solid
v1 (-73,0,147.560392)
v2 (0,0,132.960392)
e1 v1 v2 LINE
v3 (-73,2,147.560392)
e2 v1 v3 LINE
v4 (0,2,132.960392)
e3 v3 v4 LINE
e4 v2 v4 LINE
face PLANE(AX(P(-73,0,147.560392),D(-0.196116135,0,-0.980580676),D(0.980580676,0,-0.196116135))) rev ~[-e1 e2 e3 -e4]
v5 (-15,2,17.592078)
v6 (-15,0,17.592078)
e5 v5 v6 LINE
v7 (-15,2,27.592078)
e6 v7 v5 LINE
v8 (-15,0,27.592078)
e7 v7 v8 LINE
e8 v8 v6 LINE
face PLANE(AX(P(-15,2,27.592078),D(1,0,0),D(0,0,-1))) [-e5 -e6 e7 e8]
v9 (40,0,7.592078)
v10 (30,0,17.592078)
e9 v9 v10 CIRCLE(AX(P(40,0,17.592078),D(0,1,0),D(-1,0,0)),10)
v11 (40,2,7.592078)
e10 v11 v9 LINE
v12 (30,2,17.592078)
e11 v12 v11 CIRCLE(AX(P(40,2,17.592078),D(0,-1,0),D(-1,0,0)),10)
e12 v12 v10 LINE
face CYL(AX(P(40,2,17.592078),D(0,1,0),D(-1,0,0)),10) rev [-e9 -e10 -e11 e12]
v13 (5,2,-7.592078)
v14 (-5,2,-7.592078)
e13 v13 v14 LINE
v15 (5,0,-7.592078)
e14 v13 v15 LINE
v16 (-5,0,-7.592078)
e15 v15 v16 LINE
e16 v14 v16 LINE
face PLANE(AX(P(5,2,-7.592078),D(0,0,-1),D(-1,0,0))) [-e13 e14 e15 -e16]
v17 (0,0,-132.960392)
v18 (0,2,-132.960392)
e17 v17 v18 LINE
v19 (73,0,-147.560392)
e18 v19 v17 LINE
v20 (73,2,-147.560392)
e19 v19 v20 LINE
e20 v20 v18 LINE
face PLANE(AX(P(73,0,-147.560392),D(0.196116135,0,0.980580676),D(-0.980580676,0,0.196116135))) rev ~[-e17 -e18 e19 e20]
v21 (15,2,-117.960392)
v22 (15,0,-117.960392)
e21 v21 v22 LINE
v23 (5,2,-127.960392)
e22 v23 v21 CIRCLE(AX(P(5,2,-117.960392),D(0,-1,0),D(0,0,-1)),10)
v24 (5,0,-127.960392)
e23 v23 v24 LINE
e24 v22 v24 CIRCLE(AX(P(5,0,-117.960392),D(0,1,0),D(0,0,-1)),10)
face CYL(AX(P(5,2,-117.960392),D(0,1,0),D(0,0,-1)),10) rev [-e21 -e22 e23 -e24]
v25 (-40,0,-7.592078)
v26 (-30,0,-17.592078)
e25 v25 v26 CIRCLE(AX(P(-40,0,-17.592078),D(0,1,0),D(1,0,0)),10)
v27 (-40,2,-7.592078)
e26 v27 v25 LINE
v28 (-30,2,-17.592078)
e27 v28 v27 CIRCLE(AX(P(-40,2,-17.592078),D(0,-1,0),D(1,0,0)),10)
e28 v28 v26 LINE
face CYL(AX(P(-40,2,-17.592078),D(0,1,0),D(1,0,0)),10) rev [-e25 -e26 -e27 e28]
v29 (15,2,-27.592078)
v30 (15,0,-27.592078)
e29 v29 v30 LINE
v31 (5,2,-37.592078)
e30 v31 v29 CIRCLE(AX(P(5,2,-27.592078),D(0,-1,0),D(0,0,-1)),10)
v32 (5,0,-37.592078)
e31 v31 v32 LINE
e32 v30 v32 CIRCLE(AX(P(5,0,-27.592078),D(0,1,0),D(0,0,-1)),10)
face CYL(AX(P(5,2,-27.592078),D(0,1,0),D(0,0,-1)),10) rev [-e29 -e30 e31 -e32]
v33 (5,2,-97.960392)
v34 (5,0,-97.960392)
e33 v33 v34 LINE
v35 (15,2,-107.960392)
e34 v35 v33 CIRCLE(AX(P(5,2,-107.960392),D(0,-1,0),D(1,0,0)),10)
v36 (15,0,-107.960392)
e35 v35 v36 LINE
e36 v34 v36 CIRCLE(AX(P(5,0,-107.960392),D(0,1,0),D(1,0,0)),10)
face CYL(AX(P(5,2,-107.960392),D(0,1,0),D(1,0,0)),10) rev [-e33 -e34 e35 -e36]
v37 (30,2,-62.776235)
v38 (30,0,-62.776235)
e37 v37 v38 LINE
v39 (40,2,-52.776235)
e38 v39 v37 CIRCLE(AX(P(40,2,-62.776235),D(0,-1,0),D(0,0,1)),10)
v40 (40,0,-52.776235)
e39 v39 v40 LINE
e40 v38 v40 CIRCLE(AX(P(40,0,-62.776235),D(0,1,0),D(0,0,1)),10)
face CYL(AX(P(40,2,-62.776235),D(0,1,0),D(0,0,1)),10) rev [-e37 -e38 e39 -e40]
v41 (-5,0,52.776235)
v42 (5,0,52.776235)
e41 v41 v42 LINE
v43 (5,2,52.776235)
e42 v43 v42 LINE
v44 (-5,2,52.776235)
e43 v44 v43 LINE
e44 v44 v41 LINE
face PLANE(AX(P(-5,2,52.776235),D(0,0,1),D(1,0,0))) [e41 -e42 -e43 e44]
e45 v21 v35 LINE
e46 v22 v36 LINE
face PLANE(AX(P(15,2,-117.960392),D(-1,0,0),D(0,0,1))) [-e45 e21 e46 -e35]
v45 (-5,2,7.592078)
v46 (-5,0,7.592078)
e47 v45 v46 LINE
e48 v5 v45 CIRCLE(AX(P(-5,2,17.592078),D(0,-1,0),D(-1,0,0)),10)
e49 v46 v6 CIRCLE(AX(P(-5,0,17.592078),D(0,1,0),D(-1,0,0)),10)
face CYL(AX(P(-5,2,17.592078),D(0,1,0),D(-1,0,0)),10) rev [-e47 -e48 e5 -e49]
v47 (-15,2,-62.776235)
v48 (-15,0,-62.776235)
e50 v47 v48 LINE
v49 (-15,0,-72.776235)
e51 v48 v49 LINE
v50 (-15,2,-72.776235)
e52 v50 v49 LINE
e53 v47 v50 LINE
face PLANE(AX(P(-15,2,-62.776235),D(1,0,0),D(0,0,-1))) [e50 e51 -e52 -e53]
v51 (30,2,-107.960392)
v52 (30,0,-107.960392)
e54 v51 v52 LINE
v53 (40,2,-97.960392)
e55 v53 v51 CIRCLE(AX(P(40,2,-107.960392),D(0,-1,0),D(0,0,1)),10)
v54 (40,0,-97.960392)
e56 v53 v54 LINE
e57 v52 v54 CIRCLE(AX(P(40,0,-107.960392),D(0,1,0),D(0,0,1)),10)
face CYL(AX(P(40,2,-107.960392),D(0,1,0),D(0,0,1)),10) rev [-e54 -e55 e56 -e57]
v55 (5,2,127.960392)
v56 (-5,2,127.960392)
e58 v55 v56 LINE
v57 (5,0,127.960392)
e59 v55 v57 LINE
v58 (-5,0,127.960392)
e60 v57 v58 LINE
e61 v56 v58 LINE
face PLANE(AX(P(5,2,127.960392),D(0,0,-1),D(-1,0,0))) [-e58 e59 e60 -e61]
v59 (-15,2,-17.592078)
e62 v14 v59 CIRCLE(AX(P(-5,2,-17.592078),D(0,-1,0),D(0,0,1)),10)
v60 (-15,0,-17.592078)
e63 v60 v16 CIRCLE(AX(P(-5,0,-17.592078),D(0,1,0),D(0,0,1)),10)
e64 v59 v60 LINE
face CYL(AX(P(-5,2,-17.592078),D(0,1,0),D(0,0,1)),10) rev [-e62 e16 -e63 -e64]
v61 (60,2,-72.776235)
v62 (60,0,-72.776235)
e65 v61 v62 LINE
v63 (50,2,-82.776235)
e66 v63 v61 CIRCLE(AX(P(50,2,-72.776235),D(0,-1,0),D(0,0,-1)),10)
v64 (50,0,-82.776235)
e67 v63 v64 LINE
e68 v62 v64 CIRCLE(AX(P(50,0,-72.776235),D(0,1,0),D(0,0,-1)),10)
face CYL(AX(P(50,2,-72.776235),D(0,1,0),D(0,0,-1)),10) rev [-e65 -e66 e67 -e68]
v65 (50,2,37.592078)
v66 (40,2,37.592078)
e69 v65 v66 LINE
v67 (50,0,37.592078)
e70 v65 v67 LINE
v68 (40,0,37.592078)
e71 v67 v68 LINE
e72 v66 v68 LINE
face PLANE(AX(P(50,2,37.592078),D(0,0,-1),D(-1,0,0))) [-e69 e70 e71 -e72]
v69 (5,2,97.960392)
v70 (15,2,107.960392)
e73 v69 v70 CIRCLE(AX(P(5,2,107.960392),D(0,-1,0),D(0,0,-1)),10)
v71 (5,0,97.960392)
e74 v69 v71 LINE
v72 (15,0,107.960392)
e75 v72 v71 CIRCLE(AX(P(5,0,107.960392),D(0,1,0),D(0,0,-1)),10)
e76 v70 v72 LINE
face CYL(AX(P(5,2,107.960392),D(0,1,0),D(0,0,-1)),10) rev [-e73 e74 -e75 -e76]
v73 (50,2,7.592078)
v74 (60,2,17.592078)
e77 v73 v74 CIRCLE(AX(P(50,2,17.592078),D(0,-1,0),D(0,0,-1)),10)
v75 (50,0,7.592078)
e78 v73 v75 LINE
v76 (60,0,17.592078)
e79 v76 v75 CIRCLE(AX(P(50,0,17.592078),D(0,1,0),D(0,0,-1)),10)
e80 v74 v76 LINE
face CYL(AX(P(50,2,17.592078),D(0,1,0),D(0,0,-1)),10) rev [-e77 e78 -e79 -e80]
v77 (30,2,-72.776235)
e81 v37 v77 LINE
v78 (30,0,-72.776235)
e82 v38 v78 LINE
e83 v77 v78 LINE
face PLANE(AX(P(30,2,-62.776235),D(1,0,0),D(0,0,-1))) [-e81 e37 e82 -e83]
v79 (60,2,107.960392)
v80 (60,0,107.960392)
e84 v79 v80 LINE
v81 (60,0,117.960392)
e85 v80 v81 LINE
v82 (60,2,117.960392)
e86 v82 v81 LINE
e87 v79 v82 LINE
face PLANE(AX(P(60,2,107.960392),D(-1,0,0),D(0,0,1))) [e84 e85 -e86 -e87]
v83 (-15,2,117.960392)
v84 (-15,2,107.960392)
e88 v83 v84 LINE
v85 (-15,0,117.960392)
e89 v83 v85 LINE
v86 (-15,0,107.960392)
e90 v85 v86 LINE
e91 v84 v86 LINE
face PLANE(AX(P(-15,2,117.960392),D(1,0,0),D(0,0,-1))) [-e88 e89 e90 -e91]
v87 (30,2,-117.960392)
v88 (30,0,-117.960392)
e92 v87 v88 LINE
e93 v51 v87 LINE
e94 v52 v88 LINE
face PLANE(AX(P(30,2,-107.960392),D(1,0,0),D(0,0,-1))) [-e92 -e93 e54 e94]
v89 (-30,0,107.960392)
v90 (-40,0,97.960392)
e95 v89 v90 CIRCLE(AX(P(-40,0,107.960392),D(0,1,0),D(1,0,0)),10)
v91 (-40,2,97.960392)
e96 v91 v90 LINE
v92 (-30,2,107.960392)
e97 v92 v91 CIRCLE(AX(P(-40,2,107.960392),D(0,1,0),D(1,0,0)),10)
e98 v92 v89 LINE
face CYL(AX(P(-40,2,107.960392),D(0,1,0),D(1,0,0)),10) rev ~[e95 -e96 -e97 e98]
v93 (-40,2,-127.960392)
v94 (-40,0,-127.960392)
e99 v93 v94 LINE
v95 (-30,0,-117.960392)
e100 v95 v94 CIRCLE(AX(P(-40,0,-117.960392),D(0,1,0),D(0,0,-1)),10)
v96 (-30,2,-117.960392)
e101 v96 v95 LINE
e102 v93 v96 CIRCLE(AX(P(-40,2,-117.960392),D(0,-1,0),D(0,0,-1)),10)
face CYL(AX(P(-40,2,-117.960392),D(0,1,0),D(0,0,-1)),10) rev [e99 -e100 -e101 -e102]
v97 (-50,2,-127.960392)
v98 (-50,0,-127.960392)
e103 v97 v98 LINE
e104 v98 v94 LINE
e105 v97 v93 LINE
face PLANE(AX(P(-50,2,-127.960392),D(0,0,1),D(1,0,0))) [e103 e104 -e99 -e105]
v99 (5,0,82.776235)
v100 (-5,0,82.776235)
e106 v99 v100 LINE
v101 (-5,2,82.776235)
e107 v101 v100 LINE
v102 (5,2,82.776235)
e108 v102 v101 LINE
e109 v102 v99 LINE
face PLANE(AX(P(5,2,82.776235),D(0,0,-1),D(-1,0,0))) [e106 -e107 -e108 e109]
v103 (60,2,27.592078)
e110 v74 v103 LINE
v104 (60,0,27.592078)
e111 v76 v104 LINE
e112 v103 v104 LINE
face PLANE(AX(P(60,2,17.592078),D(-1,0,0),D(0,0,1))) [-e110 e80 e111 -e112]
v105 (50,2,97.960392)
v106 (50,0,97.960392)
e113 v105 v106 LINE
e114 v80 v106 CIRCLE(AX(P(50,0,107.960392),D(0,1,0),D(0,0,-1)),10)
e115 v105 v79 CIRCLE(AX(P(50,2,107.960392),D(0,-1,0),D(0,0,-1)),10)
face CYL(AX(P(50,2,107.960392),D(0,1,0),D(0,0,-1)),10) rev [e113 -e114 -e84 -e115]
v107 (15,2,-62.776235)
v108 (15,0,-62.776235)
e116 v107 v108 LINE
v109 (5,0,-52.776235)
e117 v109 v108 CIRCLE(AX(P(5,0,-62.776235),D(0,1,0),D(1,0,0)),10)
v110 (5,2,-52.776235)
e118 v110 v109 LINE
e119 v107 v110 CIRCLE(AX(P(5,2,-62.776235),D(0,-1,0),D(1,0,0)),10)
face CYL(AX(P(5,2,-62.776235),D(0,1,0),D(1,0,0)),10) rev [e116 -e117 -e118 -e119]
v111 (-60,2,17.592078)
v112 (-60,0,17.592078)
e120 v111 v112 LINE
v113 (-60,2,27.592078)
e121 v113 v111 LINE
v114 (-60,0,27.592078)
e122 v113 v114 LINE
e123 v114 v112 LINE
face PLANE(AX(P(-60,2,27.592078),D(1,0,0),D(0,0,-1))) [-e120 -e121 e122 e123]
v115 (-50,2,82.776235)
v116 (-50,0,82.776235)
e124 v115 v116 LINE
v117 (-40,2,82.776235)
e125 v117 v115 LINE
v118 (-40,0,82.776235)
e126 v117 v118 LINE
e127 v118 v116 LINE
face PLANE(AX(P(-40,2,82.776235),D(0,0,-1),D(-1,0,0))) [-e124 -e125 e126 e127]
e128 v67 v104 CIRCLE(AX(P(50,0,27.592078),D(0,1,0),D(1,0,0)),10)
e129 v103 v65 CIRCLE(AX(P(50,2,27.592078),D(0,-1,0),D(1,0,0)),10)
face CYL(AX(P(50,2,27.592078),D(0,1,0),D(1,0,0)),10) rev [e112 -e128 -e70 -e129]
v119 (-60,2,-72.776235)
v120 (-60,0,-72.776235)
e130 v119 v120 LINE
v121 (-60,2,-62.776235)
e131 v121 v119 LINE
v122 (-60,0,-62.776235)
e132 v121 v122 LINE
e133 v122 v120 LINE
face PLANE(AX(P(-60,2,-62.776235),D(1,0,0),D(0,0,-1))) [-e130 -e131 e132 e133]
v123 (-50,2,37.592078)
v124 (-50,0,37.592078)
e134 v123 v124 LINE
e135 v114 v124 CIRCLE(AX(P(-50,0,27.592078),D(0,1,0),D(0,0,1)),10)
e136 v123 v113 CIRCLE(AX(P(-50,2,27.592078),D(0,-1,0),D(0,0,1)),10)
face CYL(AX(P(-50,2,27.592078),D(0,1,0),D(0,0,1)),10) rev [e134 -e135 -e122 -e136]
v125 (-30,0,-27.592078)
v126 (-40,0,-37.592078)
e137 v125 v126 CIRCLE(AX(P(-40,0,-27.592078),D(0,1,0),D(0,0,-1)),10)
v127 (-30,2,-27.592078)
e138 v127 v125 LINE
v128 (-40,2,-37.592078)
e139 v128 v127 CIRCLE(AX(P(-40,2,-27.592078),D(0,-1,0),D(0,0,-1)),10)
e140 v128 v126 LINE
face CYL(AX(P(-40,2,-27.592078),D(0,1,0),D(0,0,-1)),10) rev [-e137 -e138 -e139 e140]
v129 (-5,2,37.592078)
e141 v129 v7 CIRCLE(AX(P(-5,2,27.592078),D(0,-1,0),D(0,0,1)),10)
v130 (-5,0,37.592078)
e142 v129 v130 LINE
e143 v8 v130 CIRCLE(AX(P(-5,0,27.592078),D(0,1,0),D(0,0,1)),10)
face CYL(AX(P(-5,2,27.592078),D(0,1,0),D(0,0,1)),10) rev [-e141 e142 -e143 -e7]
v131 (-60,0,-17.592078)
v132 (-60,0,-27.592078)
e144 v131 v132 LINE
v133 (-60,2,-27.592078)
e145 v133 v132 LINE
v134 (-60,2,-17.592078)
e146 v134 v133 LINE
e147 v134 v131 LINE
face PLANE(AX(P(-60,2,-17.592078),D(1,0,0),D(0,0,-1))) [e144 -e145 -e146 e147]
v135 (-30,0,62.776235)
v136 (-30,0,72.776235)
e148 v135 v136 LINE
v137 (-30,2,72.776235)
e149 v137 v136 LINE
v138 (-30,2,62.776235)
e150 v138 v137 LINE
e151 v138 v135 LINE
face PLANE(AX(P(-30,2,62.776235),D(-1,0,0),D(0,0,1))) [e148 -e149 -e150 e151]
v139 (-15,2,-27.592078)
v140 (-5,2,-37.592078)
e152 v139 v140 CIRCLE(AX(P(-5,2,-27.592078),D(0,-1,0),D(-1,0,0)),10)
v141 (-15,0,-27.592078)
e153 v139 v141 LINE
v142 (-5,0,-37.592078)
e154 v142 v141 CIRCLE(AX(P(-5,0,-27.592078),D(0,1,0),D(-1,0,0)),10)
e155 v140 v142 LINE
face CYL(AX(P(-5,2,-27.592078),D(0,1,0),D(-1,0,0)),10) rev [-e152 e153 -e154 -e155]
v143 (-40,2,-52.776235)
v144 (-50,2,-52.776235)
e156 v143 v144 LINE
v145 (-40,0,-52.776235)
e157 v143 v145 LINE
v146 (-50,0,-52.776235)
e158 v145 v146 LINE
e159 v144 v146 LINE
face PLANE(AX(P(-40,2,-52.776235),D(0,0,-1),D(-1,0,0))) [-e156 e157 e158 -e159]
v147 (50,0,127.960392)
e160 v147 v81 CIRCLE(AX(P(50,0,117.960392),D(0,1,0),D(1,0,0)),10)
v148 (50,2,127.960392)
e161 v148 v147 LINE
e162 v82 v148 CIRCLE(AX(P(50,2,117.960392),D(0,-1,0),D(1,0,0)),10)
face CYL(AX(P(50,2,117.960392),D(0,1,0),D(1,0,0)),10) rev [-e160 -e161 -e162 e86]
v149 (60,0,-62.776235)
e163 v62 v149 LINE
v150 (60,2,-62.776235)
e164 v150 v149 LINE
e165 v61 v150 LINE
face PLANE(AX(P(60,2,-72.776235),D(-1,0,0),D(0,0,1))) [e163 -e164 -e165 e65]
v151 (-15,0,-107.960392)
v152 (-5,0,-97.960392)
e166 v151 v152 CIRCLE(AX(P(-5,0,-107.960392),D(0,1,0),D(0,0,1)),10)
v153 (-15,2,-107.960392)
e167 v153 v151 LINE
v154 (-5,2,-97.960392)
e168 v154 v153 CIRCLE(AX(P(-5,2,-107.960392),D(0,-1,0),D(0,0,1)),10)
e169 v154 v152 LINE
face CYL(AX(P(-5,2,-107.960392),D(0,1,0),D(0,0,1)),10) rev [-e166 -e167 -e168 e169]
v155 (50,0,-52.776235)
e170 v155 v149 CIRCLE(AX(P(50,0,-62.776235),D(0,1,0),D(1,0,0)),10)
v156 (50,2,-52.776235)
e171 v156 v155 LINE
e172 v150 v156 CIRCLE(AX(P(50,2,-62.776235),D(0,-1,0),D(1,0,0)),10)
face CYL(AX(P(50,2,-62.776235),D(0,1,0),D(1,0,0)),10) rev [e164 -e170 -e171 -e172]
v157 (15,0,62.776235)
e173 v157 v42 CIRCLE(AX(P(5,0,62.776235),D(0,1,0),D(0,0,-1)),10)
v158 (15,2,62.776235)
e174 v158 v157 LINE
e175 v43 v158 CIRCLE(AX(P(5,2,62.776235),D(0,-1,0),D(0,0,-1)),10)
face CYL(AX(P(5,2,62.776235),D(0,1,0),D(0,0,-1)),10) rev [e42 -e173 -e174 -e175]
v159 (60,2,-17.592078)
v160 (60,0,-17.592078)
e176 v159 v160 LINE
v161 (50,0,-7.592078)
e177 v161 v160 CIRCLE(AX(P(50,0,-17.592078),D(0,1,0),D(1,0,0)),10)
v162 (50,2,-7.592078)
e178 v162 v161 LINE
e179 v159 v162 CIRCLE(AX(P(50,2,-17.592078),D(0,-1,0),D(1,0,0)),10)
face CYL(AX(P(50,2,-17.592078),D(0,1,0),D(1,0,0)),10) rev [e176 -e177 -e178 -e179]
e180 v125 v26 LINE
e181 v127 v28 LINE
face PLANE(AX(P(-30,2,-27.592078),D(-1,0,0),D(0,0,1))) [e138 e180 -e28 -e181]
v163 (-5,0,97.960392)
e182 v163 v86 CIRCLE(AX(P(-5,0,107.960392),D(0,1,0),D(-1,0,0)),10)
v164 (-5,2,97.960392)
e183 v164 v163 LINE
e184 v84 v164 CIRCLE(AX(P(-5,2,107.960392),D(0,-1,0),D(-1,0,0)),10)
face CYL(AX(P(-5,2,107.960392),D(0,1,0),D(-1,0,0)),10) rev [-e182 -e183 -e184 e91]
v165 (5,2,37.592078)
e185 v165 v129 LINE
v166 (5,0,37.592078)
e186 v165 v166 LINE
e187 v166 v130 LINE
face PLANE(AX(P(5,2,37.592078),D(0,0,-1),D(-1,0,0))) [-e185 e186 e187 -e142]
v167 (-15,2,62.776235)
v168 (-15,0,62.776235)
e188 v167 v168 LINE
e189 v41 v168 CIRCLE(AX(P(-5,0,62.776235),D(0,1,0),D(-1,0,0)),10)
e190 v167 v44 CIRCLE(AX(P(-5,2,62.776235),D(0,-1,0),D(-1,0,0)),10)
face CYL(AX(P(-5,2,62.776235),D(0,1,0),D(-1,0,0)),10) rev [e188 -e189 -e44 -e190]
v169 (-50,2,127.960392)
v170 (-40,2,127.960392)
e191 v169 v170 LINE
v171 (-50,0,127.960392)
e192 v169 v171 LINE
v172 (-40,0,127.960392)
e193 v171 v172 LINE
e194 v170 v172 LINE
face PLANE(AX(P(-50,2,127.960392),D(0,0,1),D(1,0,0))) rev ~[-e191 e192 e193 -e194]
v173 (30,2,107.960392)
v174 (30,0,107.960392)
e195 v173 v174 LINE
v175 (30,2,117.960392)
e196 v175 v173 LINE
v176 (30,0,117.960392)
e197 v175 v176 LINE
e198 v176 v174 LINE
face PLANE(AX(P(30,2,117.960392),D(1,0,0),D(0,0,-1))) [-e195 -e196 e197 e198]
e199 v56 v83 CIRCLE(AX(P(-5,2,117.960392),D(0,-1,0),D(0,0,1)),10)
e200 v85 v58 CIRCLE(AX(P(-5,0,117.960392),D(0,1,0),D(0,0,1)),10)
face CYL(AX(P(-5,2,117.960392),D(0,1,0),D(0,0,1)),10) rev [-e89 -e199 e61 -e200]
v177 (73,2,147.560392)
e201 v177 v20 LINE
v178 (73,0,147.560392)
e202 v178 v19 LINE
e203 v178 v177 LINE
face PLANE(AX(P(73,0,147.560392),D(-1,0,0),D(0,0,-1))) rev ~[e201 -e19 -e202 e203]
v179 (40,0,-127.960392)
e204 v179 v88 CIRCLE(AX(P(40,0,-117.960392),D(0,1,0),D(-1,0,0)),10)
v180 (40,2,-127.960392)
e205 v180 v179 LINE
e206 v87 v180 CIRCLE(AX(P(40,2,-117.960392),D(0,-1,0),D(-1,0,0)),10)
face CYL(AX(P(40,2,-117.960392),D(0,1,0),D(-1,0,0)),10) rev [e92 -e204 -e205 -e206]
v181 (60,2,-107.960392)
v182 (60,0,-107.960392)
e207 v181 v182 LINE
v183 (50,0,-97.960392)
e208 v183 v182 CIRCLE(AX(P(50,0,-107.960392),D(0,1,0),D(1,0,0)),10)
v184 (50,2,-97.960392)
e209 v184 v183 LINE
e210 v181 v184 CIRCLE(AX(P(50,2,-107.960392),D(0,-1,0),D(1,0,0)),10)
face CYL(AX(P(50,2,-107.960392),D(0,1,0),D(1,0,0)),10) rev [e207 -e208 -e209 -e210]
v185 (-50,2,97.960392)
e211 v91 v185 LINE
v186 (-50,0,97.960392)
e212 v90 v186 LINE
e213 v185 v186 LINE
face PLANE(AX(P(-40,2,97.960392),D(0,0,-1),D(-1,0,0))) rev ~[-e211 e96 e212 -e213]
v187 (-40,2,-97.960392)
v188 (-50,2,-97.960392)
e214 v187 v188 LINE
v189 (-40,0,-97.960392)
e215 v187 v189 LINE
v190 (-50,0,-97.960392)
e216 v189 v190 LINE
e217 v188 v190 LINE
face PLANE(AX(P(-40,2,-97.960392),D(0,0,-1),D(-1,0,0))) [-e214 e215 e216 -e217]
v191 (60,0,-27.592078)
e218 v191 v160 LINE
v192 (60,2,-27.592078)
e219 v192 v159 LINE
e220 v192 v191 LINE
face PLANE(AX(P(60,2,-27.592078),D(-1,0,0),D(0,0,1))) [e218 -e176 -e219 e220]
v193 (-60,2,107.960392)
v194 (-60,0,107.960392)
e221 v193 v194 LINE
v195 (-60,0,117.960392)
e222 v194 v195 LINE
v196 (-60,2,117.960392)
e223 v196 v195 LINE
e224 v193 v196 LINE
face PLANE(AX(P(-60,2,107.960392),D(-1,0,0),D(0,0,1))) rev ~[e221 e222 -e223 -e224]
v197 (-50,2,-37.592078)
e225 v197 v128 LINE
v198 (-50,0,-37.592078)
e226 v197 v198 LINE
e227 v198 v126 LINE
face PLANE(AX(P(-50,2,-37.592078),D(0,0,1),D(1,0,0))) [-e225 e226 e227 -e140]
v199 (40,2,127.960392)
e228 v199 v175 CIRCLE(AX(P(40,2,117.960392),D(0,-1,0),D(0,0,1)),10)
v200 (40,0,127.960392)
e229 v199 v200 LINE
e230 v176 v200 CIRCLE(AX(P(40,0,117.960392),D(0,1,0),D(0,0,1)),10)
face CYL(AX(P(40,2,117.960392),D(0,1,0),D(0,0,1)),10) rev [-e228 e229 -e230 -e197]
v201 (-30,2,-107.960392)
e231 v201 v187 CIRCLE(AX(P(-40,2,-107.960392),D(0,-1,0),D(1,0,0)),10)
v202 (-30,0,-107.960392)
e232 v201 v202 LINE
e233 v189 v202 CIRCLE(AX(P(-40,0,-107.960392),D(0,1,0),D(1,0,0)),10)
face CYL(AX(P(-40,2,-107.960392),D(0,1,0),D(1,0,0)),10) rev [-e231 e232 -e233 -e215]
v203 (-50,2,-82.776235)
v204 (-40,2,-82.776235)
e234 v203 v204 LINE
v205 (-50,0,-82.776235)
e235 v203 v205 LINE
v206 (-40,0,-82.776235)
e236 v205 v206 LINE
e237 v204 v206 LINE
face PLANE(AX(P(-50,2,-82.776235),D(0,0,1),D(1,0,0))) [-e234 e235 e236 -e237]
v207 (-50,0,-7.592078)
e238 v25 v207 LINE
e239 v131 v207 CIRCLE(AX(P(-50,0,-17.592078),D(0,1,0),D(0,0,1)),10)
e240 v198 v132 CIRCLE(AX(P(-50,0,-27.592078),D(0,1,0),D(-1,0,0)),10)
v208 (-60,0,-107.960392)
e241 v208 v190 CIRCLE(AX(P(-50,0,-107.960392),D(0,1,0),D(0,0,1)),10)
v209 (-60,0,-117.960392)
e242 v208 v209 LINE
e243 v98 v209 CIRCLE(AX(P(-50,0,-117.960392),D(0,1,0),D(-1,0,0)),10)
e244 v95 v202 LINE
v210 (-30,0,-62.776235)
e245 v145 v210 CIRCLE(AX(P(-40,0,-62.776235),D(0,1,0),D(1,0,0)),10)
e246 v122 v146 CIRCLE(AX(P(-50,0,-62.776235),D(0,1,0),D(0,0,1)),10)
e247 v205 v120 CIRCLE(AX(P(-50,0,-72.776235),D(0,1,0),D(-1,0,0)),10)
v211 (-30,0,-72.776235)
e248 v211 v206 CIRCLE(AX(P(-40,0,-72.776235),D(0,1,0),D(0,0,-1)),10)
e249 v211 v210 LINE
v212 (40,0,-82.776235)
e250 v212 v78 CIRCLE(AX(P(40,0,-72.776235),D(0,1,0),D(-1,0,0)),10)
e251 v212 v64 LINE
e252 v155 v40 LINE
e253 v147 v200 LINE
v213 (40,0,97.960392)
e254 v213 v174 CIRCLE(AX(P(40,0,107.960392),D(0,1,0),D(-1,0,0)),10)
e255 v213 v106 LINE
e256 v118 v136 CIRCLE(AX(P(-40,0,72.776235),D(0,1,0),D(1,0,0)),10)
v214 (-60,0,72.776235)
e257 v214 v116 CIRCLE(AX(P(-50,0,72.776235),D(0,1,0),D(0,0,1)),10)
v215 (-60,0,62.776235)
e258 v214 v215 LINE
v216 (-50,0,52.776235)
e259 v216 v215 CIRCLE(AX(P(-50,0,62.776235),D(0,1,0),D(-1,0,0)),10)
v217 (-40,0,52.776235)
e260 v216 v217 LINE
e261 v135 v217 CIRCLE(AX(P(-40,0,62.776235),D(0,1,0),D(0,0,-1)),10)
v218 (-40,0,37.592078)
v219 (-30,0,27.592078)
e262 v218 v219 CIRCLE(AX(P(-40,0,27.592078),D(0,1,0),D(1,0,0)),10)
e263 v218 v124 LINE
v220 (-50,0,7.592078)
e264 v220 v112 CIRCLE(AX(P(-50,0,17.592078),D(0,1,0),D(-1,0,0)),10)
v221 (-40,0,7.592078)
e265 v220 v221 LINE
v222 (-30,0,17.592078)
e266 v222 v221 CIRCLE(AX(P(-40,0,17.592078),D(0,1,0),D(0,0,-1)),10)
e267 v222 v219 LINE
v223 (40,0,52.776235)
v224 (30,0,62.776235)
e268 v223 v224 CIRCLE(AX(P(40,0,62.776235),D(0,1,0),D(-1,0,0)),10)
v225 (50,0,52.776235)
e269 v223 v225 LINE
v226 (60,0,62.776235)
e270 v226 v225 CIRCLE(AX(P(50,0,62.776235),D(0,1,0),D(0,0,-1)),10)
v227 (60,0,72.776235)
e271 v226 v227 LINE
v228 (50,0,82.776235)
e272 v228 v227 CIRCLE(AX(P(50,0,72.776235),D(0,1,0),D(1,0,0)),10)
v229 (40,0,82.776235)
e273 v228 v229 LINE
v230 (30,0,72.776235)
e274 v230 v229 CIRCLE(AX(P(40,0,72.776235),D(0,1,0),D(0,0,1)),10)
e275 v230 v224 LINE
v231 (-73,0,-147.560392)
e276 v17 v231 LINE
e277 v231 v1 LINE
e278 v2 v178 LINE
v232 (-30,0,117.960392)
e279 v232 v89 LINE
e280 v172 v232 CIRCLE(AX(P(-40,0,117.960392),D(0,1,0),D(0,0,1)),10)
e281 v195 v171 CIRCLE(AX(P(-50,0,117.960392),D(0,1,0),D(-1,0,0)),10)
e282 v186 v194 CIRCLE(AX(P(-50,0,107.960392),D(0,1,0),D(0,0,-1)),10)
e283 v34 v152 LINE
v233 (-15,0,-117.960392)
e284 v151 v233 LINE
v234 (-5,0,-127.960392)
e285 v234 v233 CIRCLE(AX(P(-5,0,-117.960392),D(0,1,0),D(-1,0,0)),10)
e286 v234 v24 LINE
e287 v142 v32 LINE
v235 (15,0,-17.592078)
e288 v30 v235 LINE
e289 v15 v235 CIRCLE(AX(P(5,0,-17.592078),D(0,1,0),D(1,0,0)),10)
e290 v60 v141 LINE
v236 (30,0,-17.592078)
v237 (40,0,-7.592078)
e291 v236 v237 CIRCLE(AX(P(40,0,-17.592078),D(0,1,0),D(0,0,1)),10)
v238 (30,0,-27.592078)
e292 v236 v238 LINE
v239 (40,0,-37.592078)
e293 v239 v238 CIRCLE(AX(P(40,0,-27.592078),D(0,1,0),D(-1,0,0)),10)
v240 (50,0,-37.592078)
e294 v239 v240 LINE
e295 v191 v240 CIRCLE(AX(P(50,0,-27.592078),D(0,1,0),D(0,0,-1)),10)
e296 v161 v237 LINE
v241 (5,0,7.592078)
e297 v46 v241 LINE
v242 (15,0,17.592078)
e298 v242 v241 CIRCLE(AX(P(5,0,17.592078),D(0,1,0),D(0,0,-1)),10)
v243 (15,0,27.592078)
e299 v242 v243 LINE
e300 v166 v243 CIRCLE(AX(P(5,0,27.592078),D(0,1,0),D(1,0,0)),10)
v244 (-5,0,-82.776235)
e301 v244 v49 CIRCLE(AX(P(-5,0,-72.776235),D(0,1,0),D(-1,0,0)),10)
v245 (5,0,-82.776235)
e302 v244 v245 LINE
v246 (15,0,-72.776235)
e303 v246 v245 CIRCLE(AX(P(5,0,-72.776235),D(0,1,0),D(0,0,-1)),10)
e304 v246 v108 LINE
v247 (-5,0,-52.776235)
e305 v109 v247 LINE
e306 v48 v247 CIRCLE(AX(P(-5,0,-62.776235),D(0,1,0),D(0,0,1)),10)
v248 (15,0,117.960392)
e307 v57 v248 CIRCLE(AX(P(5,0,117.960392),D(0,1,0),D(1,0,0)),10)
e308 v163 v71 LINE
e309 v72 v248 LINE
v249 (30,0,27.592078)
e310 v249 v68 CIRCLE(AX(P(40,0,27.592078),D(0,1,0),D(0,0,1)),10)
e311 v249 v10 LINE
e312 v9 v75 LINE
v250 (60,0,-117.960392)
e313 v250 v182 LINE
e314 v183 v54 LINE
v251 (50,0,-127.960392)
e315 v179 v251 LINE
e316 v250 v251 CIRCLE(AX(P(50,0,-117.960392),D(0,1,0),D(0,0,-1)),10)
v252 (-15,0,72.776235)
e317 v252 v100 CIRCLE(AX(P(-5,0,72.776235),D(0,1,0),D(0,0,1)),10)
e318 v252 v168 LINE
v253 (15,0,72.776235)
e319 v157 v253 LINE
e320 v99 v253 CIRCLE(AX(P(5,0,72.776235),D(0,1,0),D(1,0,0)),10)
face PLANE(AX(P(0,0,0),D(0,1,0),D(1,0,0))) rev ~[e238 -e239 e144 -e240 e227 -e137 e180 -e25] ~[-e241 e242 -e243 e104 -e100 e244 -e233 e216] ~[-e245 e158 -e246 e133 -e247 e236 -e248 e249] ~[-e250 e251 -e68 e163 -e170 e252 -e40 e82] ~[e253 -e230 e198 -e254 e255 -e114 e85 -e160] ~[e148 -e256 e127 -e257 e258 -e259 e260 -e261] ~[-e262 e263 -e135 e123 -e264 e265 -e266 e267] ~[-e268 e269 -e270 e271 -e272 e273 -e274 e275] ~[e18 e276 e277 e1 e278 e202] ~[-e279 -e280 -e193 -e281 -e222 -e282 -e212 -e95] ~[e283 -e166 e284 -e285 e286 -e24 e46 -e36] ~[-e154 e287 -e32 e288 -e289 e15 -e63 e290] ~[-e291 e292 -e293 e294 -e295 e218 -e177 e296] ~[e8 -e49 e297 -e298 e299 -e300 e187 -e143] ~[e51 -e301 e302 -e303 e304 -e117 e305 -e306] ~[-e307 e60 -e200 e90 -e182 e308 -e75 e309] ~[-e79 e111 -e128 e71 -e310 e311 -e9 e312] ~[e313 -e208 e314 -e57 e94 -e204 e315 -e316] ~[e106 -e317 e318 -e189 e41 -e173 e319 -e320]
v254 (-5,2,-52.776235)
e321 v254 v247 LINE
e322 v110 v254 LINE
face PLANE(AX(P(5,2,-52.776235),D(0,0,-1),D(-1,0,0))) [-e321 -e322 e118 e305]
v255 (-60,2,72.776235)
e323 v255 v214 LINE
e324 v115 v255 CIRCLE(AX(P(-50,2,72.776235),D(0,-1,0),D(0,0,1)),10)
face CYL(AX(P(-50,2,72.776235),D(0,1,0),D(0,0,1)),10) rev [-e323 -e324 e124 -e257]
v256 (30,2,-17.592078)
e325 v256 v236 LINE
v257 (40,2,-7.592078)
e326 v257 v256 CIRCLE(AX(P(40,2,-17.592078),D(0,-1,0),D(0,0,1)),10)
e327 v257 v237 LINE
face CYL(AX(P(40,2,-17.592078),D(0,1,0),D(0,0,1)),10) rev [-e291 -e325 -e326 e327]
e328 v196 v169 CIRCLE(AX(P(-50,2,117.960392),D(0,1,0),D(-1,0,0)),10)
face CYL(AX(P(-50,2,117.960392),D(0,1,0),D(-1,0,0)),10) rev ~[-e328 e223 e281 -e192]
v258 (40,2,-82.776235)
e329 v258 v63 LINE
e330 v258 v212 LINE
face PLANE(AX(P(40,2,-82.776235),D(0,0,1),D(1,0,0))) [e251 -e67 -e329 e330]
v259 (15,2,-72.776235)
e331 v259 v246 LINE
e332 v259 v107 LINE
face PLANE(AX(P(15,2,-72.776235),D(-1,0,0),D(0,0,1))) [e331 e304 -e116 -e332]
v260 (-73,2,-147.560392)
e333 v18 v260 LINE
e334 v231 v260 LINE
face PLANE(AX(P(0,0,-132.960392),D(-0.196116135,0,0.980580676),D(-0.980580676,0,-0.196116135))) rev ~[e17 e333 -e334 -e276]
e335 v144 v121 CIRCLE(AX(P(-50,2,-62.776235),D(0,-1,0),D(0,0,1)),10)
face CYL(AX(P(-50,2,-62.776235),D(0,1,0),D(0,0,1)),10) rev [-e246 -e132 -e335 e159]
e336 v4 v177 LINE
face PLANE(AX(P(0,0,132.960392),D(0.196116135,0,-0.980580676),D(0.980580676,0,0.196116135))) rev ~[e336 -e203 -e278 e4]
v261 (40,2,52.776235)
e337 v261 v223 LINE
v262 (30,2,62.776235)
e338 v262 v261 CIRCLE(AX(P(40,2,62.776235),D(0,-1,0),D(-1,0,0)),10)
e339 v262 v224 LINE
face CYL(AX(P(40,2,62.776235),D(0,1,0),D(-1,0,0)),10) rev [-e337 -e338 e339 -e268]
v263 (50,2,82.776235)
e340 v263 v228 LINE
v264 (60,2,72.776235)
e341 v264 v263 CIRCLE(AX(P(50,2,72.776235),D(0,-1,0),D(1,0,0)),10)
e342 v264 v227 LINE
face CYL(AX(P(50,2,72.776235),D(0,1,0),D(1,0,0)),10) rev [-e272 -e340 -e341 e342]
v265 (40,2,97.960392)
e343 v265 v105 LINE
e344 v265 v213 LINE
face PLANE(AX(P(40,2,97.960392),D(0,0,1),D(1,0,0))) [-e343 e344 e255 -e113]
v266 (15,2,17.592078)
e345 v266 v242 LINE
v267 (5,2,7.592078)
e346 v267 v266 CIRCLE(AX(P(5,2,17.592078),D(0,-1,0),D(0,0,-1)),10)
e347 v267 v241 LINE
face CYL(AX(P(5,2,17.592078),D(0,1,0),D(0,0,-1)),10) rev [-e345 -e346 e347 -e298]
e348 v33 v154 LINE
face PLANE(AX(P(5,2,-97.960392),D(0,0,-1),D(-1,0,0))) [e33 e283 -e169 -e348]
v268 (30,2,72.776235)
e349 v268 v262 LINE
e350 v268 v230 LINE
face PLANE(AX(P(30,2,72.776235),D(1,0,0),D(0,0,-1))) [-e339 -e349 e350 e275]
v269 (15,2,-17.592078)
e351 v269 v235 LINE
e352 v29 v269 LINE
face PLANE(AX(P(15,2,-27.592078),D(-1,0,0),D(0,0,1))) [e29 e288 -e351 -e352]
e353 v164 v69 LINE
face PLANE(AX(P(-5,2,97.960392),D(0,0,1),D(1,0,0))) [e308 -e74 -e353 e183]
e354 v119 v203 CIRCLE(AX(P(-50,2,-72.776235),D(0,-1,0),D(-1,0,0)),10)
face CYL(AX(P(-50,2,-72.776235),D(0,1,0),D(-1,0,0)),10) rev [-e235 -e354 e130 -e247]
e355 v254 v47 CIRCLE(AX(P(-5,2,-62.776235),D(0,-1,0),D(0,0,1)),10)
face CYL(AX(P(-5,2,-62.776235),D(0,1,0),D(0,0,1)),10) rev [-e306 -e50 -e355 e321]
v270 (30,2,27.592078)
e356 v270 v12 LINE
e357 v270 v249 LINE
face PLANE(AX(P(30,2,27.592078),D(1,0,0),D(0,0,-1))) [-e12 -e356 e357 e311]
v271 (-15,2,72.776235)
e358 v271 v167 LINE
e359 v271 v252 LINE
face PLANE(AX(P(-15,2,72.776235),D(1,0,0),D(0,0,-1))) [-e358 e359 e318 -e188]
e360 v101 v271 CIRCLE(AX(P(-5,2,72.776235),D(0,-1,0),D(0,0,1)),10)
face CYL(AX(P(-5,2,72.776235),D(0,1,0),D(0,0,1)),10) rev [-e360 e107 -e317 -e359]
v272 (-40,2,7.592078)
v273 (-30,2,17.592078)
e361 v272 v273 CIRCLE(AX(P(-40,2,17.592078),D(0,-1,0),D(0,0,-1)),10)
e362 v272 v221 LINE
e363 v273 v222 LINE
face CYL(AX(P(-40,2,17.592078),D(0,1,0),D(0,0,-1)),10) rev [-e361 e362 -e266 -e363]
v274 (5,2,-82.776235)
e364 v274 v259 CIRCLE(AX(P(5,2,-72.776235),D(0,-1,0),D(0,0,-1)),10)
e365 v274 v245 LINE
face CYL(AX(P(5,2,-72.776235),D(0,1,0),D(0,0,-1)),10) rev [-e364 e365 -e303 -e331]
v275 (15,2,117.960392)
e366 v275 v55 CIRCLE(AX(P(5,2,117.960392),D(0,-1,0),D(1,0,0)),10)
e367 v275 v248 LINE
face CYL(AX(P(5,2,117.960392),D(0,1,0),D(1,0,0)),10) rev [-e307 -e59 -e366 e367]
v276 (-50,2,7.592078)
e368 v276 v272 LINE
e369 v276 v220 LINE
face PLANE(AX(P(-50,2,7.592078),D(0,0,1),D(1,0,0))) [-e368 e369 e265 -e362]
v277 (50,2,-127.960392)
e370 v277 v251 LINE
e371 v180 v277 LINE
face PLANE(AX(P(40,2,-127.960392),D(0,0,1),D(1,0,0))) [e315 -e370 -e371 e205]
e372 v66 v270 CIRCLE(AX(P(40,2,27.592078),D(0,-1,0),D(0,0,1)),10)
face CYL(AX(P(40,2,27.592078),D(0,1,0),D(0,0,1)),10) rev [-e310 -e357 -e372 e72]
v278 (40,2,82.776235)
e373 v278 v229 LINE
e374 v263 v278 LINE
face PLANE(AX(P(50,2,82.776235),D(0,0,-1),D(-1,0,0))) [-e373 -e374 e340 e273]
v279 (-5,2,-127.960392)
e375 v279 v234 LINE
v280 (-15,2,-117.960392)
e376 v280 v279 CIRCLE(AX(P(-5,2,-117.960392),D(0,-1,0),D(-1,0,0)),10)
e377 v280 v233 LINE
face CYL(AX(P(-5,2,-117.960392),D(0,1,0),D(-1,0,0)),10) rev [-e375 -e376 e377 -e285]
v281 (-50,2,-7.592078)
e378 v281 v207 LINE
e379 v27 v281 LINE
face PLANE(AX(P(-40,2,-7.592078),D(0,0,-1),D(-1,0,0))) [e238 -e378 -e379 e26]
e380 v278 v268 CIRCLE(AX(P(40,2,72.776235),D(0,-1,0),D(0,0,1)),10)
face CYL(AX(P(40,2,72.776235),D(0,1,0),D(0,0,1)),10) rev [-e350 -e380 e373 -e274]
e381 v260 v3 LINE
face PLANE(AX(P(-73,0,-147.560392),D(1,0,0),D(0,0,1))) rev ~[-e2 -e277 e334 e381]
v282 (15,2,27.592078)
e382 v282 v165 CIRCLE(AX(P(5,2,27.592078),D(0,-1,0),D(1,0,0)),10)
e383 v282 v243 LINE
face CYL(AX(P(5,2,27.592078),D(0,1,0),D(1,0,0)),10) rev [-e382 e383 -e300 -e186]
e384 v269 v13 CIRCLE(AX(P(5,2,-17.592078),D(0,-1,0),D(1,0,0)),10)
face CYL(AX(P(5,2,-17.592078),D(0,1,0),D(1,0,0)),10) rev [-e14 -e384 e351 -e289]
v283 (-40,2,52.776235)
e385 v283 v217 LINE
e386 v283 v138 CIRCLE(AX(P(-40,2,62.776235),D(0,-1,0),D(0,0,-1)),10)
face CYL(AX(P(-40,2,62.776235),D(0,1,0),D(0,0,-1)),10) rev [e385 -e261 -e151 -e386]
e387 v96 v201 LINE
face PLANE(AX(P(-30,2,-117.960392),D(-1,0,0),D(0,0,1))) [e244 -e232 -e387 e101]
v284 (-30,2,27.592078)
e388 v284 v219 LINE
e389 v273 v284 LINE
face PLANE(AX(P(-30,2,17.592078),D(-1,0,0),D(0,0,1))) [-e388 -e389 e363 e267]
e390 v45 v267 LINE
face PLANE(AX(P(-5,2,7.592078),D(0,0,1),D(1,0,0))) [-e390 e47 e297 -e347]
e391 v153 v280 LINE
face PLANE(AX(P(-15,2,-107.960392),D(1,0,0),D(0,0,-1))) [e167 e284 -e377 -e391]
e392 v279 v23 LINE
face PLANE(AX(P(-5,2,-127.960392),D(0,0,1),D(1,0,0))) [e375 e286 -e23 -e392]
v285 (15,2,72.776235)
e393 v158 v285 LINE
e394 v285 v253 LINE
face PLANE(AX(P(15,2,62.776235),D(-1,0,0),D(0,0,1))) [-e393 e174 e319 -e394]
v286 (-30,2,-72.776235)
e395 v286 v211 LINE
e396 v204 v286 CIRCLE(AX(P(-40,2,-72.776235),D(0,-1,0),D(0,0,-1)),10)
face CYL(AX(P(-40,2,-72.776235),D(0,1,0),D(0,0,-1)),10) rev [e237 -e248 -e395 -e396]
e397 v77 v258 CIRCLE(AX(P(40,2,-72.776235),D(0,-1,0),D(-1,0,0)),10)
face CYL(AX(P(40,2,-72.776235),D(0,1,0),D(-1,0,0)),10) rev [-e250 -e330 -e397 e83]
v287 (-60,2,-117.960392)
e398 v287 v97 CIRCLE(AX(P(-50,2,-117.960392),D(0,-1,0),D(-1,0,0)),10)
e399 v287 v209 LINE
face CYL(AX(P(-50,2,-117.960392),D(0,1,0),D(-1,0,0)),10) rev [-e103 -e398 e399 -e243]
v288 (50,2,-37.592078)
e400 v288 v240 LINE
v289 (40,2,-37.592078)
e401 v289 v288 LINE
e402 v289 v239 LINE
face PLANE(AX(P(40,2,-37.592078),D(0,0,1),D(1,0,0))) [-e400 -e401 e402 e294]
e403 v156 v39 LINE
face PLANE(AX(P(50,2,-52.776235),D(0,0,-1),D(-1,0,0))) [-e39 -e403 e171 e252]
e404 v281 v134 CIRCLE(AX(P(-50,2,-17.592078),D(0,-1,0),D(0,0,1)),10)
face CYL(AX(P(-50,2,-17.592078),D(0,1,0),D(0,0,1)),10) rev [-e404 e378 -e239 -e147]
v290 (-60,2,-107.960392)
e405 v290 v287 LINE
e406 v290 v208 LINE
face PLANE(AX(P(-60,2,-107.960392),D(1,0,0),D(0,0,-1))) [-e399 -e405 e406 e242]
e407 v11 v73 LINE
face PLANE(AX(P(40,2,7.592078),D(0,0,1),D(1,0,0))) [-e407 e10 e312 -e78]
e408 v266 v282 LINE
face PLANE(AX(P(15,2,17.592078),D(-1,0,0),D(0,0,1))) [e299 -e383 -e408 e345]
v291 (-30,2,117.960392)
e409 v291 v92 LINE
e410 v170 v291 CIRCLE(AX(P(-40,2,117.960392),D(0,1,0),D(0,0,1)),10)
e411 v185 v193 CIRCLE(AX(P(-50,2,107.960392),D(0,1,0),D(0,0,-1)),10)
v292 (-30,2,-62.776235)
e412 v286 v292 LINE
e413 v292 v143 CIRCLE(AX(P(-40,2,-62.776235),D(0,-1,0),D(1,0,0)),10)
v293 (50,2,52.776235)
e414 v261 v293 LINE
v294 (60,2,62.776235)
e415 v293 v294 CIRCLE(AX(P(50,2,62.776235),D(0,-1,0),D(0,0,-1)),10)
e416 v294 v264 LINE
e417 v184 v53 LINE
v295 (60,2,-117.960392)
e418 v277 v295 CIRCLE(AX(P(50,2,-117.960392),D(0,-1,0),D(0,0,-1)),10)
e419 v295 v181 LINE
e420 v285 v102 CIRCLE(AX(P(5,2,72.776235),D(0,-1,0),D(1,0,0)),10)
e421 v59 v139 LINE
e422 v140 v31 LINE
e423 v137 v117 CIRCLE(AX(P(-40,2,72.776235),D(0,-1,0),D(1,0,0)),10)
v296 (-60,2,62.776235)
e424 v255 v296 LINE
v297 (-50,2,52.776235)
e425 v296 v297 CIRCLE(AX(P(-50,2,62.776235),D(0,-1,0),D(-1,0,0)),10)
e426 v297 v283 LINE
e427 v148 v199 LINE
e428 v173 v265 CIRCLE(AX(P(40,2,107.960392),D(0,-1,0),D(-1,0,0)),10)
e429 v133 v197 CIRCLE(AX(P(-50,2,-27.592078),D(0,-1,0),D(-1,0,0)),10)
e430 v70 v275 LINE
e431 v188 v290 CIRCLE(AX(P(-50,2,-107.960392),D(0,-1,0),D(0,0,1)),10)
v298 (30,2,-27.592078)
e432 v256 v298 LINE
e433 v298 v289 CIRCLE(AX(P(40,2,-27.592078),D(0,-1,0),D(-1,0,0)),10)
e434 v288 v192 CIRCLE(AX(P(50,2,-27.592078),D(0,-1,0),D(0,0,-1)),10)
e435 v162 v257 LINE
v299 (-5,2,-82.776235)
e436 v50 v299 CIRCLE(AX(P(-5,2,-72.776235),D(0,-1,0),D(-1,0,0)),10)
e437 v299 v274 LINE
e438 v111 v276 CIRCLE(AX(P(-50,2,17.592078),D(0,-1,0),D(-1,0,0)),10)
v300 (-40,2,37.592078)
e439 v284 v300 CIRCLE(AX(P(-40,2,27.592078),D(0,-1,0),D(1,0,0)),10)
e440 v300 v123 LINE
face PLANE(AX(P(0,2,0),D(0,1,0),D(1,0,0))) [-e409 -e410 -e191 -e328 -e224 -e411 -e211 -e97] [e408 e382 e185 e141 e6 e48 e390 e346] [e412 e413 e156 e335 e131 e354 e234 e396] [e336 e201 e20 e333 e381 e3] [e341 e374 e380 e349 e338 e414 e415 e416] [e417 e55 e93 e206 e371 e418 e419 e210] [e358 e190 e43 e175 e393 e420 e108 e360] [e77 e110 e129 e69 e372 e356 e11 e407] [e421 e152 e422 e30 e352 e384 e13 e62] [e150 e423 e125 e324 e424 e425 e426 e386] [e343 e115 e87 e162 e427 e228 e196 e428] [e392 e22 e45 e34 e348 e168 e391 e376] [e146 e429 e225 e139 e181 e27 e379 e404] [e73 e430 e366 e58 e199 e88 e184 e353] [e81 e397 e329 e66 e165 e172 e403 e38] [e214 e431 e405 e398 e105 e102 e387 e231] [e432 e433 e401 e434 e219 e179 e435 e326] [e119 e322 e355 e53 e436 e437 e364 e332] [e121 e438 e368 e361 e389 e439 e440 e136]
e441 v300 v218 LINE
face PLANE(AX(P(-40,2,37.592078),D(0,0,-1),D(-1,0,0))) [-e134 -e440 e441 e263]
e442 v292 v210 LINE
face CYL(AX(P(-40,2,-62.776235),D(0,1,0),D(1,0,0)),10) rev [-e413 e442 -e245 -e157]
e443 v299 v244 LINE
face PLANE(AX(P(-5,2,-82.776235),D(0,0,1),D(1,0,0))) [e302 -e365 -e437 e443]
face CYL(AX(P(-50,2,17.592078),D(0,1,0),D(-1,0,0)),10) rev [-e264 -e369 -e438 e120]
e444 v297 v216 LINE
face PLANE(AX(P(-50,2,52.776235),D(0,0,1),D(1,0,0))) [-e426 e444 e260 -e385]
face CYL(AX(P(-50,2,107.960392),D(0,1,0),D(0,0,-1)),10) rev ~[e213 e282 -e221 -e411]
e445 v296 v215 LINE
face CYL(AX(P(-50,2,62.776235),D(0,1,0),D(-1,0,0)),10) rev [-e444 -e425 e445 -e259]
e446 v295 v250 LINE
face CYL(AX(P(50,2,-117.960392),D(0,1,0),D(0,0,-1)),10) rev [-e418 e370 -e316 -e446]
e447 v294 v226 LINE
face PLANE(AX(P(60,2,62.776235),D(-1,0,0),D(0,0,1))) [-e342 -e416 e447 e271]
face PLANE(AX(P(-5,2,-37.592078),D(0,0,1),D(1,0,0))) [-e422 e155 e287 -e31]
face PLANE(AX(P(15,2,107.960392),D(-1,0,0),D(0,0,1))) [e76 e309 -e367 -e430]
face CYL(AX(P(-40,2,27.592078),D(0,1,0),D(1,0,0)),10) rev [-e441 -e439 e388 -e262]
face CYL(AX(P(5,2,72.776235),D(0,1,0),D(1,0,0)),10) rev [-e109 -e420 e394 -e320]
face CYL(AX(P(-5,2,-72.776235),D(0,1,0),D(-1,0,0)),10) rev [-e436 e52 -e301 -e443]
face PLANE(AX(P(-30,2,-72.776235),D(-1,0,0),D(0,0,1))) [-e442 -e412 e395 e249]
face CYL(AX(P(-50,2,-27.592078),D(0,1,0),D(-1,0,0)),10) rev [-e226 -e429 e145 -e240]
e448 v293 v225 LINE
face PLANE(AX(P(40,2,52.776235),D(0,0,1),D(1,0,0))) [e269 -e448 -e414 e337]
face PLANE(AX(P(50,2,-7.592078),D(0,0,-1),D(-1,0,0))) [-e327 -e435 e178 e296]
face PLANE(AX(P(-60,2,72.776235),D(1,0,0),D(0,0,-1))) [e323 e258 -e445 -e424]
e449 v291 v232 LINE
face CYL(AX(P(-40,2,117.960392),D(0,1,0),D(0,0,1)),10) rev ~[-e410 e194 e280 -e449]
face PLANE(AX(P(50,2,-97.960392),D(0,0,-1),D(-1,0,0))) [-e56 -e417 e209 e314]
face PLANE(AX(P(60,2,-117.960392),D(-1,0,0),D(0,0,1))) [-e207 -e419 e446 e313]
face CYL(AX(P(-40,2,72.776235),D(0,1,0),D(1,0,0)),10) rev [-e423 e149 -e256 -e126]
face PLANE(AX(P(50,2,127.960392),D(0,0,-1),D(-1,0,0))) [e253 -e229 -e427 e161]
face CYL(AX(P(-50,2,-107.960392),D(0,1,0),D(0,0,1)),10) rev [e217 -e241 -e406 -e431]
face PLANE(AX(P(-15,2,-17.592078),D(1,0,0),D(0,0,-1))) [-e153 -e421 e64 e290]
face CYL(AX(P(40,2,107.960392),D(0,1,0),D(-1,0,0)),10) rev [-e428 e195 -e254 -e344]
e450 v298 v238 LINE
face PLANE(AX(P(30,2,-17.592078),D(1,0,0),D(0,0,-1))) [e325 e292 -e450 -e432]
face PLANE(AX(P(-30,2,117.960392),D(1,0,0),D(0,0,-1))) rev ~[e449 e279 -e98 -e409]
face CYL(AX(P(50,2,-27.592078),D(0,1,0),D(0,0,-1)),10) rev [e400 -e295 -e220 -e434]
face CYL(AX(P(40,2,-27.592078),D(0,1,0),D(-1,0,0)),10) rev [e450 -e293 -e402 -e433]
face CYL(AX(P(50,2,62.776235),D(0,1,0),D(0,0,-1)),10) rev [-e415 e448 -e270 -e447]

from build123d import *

# Parameters (mm, degrees)
BOSS_EXTRUDE1_DEPTH = 2
CUT_EXTRUDE1_DEPTH  = 165.642246537


with BuildPart() as part:
    # Sketch1 → Boss-Extrude1 (new body)
    with BuildSketch(Plane(origin=(0, 0, 0), x_dir=(1, 0, 0), z_dir=(0, 1, 0))):
        Polygon((-73, 147.560392195), (-73, -147.560392195), (0, -132.960392195), (73, -147.560392195), (73, 147.560392195), (0, 132.960392195), align=None)
    extrude(amount=BOSS_EXTRUDE1_DEPTH)

    # Sketch2 → Cut-Extrude1 (cut, through all)
    with BuildSketch(Plane(origin=(0, 2, 0), x_dir=(1, 0, 0), z_dir=(0, 1, 0))):
        with BuildLine():
            Line((-50, -127.960392195), (-40, -127.960392195))
            ThreePointArc((-40, -127.960392195), (-32.928932188, -125.031460006), (-30, -117.960392195))
            Line((-30, -117.960392195), (-30, -107.960392195))
            ThreePointArc((-30, -107.960392195), (-32.928932188, -100.889324383), (-40, -97.960392195))
            Line((-40, -97.960392195), (-50, -97.960392195))
            ThreePointArc((-50, -97.960392195), (-57.071067812, -100.889324383), (-60, -107.960392195))
            Line((-60, -107.960392195), (-60, -117.960392195))
            ThreePointArc((-60, -117.960392195), (-57.071067812, -125.031460006), (-50, -127.960392195))
        make_face()
        with BuildLine():
            Line((-15, -117.960392195), (-15, -107.960392195))
            ThreePointArc((-15, -107.960392195), (-12.071067812, -100.889324383), (-5, -97.960392195))
            Line((-5, -97.960392195), (5, -97.960392195))
            ThreePointArc((5, -97.960392195), (12.071067812, -100.889324383), (15, -107.960392195))
            Line((15, -107.960392195), (15, -117.960392195))
            ThreePointArc((15, -117.960392195), (12.071067812, -125.031460006), (5, -127.960392195))
            Line((5, -127.960392195), (-5, -127.960392195))
            ThreePointArc((-5, -127.960392195), (-12.071067812, -125.031460006), (-15, -117.960392195))
        make_face()
        with BuildLine():
            Line((30, -117.960392195), (30, -107.960392195))
            ThreePointArc((30, -107.960392195), (32.928932188, -100.889324383), (40, -97.960392195))
            Line((40, -97.960392195), (50, -97.960392195))
            ThreePointArc((50, -97.960392195), (57.071067812, -100.889324383), (60, -107.960392195))
            Line((60, -107.960392195), (60, -117.960392195))
            ThreePointArc((60, -117.960392195), (57.071067812, -125.031460006), (50, -127.960392195))
            Line((50, -127.960392195), (40, -127.960392195))
            ThreePointArc((40, -127.960392195), (32.928932188, -125.031460006), (30, -117.960392195))
        make_face()
        with BuildLine():
            Line((-60, -72.776235317), (-60, -62.776235317))
            ThreePointArc((-60, -62.776235317), (-57.071067812, -55.705167505), (-50, -52.776235317))
            Line((-50, -52.776235317), (-40, -52.776235317))
            ThreePointArc((-40, -52.776235317), (-32.928932188, -55.705167505), (-30, -62.776235317))
            Line((-30, -62.776235317), (-30, -72.776235317))
            ThreePointArc((-30, -72.776235317), (-32.928932188, -79.847303129), (-40, -82.776235317))
            Line((-40, -82.776235317), (-50, -82.776235317))
            ThreePointArc((-50, -82.776235317), (-57.071067812, -79.847303129), (-60, -72.776235317))
        make_face()
        with BuildLine():
            Line((-15, -72.776235317), (-15, -62.776235317))
            ThreePointArc((-15, -62.776235317), (-12.071067812, -55.705167505), (-5, -52.776235317))
            Line((-5, -52.776235317), (5, -52.776235317))
            ThreePointArc((5, -52.776235317), (12.071067812, -55.705167505), (15, -62.776235317))
            Line((15, -62.776235317), (15, -72.776235317))
            ThreePointArc((15, -72.776235317), (12.071067812, -79.847303129), (5, -82.776235317))
            Line((5, -82.776235317), (-5, -82.776235317))
            ThreePointArc((-5, -82.776235317), (-12.071067812, -79.847303129), (-15, -72.776235317))
        make_face()
        with BuildLine():
            Line((30, -72.776235317), (30, -62.776235317))
            ThreePointArc((30, -62.776235317), (32.928932188, -55.705167505), (40, -52.776235317))
            Line((40, -52.776235317), (50, -52.776235317))
            ThreePointArc((50, -52.776235317), (57.071067812, -55.705167505), (60, -62.776235317))
            Line((60, -62.776235317), (60, -72.776235317))
            ThreePointArc((60, -72.776235317), (57.071067812, -79.847303129), (50, -82.776235317))
            Line((50, -82.776235317), (40, -82.776235317))
            ThreePointArc((40, -82.776235317), (32.928932188, -79.847303129), (30, -72.776235317))
        make_face()
        with BuildLine():
            Line((-60, -27.592078439), (-60, -17.592078439))
            ThreePointArc((-60, -17.592078439), (-57.071067812, -10.521010627), (-50, -7.592078439))
            Line((-50, -7.592078439), (-40, -7.592078439))
            ThreePointArc((-40, -7.592078439), (-32.928932188, -10.521010627), (-30, -17.592078439))
            Line((-30, -17.592078439), (-30, -27.592078439))
            ThreePointArc((-30, -27.592078439), (-32.928932188, -34.663146251), (-40, -37.592078439))
            Line((-40, -37.592078439), (-50, -37.592078439))
            ThreePointArc((-50, -37.592078439), (-57.071067812, -34.663146251), (-60, -27.592078439))
        make_face()
        with BuildLine():
            Line((-15, -27.592078439), (-15, -17.592078439))
            ThreePointArc((-15, -17.592078439), (-12.071067812, -10.521010627), (-5, -7.592078439))
            Line((-5, -7.592078439), (5, -7.592078439))
            ThreePointArc((5, -7.592078439), (12.071067812, -10.521010627), (15, -17.592078439))
            Line((15, -17.592078439), (15, -27.592078439))
            ThreePointArc((15, -27.592078439), (12.071067812, -34.663146251), (5, -37.592078439))
            Line((5, -37.592078439), (-5, -37.592078439))
            ThreePointArc((-5, -37.592078439), (-12.071067812, -34.663146251), (-15, -27.592078439))
        make_face()
        with BuildLine():
            Line((30, -27.592078439), (30, -17.592078439))
            ThreePointArc((30, -17.592078439), (32.928932188, -10.521010627), (40, -7.592078439))
            Line((40, -7.592078439), (50, -7.592078439))
            ThreePointArc((50, -7.592078439), (57.071067812, -10.521010627), (60, -17.592078439))
            Line((60, -17.592078439), (60, -27.592078439))
            ThreePointArc((60, -27.592078439), (57.071067812, -34.663146251), (50, -37.592078439))
            Line((50, -37.592078439), (40, -37.592078439))
            ThreePointArc((40, -37.592078439), (32.928932188, -34.663146251), (30, -27.592078439))
        make_face()
        with BuildLine():
            Line((-60, 17.592078439), (-60, 27.592078439))
            ThreePointArc((-60, 27.592078439), (-57.071067812, 34.663146251), (-50, 37.592078439))
            Line((-50, 37.592078439), (-40, 37.592078439))
            ThreePointArc((-40, 37.592078439), (-32.928932188, 34.663146251), (-30, 27.592078439))
            Line((-30, 27.592078439), (-30, 17.592078439))
            ThreePointArc((-30, 17.592078439), (-32.928932188, 10.521010627), (-40, 7.592078439))
            Line((-40, 7.592078439), (-50, 7.592078439))
            ThreePointArc((-50, 7.592078439), (-57.071067812, 10.521010627), (-60, 17.592078439))
        make_face()
        with BuildLine():
            Line((-15, 17.592078439), (-15, 27.592078439))
            ThreePointArc((-15, 27.592078439), (-12.071067812, 34.663146251), (-5, 37.592078439))
            Line((-5, 37.592078439), (5, 37.592078439))
            ThreePointArc((5, 37.592078439), (12.071067812, 34.663146251), (15, 27.592078439))
            Line((15, 27.592078439), (15, 17.592078439))
            ThreePointArc((15, 17.592078439), (12.071067812, 10.521010627), (5, 7.592078439))
            Line((5, 7.592078439), (-5, 7.592078439))
            ThreePointArc((-5, 7.592078439), (-12.071067812, 10.521010627), (-15, 17.592078439))
        make_face()
        with BuildLine():
            Line((30, 17.592078439), (30, 27.592078439))
            ThreePointArc((30, 27.592078439), (32.928932188, 34.663146251), (40, 37.592078439))
            Line((40, 37.592078439), (50, 37.592078439))
            ThreePointArc((50, 37.592078439), (57.071067812, 34.663146251), (60, 27.592078439))
            Line((60, 27.592078439), (60, 17.592078439))
            ThreePointArc((60, 17.592078439), (57.071067812, 10.521010627), (50, 7.592078439))
            Line((50, 7.592078439), (40, 7.592078439))
            ThreePointArc((40, 7.592078439), (32.928932188, 10.521010627), (30, 17.592078439))
        make_face()
        with BuildLine():
            Line((-60, 62.776235317), (-60, 72.776235317))
            ThreePointArc((-60, 72.776235317), (-57.071067812, 79.847303129), (-50, 82.776235317))
            Line((-50, 82.776235317), (-40, 82.776235317))
            ThreePointArc((-40, 82.776235317), (-32.928932188, 79.847303129), (-30, 72.776235317))
            Line((-30, 72.776235317), (-30, 62.776235317))
            ThreePointArc((-30, 62.776235317), (-32.928932188, 55.705167505), (-40, 52.776235317))
            Line((-40, 52.776235317), (-50, 52.776235317))
            ThreePointArc((-50, 52.776235317), (-57.071067812, 55.705167505), (-60, 62.776235317))
        make_face()
        with BuildLine():
            Line((-15, 62.776235317), (-15, 72.776235317))
            ThreePointArc((-15, 72.776235317), (-12.071067812, 79.847303129), (-5, 82.776235317))
            Line((-5, 82.776235317), (5, 82.776235317))
            ThreePointArc((5, 82.776235317), (12.071067812, 79.847303129), (15, 72.776235317))
            Line((15, 72.776235317), (15, 62.776235317))
            ThreePointArc((15, 62.776235317), (12.071067812, 55.705167505), (5, 52.776235317))
            Line((5, 52.776235317), (-5, 52.776235317))
            ThreePointArc((-5, 52.776235317), (-12.071067812, 55.705167505), (-15, 62.776235317))
        make_face()
        with BuildLine():
            Line((30, 62.776235317), (30, 72.776235317))
            ThreePointArc((30, 72.776235317), (32.928932188, 79.847303129), (40, 82.776235317))
            Line((40, 82.776235317), (50, 82.776235317))
            ThreePointArc((50, 82.776235317), (57.071067812, 79.847303129), (60, 72.776235317))
            Line((60, 72.776235317), (60, 62.776235317))
            ThreePointArc((60, 62.776235317), (57.071067812, 55.705167505), (50, 52.776235317))
            Line((50, 52.776235317), (40, 52.776235317))
            ThreePointArc((40, 52.776235317), (32.928932188, 55.705167505), (30, 62.776235317))
        make_face()
        with BuildLine():
            Line((-60, 107.960392195), (-60, 117.960392195))
            ThreePointArc((-60, 117.960392195), (-57.071067812, 125.031460006), (-50, 127.960392195))
            Line((-50, 127.960392195), (-40, 127.960392195))
            ThreePointArc((-40, 127.960392195), (-32.928932188, 125.031460006), (-30, 117.960392195))
            Line((-30, 117.960392195), (-30, 107.960392195))
            ThreePointArc((-30, 107.960392195), (-32.928932188, 100.889324383), (-40, 97.960392195))
            Line((-40, 97.960392195), (-50, 97.960392195))
            ThreePointArc((-50, 97.960392195), (-57.071067812, 100.889324383), (-60, 107.960392195))
        make_face()
        with BuildLine():
            Line((-15, 107.960392195), (-15, 117.960392195))
            ThreePointArc((-15, 117.960392195), (-12.071067812, 125.031460006), (-5, 127.960392195))
            Line((-5, 127.960392195), (5, 127.960392195))
            ThreePointArc((5, 127.960392195), (12.071067812, 125.031460006), (15, 117.960392195))
            Line((15, 117.960392195), (15, 107.960392195))
            ThreePointArc((15, 107.960392195), (12.071067812, 100.889324383), (5, 97.960392195))
            Line((5, 97.960392195), (-5, 97.960392195))
            ThreePointArc((-5, 97.960392195), (-12.071067812, 100.889324383), (-15, 107.960392195))
        make_face()
        with BuildLine():
            Line((30, 107.960392195), (30, 117.960392195))
            ThreePointArc((30, 117.960392195), (32.928932188, 125.031460006), (40, 127.960392195))
            Line((40, 127.960392195), (50, 127.960392195))
            ThreePointArc((50, 127.960392195), (57.071067812, 125.031460006), (60, 117.960392195))
            Line((60, 117.960392195), (60, 107.960392195))
            ThreePointArc((60, 107.960392195), (57.071067812, 100.889324383), (50, 97.960392195))
            Line((50, 97.960392195), (40, 97.960392195))
            ThreePointArc((40, 97.960392195), (32.928932188, 100.889324383), (30, 107.960392195))
        make_face()
    extrude(amount=-CUT_EXTRUDE1_DEPTH, mode=Mode.SUBTRACT)


solid = part.part
